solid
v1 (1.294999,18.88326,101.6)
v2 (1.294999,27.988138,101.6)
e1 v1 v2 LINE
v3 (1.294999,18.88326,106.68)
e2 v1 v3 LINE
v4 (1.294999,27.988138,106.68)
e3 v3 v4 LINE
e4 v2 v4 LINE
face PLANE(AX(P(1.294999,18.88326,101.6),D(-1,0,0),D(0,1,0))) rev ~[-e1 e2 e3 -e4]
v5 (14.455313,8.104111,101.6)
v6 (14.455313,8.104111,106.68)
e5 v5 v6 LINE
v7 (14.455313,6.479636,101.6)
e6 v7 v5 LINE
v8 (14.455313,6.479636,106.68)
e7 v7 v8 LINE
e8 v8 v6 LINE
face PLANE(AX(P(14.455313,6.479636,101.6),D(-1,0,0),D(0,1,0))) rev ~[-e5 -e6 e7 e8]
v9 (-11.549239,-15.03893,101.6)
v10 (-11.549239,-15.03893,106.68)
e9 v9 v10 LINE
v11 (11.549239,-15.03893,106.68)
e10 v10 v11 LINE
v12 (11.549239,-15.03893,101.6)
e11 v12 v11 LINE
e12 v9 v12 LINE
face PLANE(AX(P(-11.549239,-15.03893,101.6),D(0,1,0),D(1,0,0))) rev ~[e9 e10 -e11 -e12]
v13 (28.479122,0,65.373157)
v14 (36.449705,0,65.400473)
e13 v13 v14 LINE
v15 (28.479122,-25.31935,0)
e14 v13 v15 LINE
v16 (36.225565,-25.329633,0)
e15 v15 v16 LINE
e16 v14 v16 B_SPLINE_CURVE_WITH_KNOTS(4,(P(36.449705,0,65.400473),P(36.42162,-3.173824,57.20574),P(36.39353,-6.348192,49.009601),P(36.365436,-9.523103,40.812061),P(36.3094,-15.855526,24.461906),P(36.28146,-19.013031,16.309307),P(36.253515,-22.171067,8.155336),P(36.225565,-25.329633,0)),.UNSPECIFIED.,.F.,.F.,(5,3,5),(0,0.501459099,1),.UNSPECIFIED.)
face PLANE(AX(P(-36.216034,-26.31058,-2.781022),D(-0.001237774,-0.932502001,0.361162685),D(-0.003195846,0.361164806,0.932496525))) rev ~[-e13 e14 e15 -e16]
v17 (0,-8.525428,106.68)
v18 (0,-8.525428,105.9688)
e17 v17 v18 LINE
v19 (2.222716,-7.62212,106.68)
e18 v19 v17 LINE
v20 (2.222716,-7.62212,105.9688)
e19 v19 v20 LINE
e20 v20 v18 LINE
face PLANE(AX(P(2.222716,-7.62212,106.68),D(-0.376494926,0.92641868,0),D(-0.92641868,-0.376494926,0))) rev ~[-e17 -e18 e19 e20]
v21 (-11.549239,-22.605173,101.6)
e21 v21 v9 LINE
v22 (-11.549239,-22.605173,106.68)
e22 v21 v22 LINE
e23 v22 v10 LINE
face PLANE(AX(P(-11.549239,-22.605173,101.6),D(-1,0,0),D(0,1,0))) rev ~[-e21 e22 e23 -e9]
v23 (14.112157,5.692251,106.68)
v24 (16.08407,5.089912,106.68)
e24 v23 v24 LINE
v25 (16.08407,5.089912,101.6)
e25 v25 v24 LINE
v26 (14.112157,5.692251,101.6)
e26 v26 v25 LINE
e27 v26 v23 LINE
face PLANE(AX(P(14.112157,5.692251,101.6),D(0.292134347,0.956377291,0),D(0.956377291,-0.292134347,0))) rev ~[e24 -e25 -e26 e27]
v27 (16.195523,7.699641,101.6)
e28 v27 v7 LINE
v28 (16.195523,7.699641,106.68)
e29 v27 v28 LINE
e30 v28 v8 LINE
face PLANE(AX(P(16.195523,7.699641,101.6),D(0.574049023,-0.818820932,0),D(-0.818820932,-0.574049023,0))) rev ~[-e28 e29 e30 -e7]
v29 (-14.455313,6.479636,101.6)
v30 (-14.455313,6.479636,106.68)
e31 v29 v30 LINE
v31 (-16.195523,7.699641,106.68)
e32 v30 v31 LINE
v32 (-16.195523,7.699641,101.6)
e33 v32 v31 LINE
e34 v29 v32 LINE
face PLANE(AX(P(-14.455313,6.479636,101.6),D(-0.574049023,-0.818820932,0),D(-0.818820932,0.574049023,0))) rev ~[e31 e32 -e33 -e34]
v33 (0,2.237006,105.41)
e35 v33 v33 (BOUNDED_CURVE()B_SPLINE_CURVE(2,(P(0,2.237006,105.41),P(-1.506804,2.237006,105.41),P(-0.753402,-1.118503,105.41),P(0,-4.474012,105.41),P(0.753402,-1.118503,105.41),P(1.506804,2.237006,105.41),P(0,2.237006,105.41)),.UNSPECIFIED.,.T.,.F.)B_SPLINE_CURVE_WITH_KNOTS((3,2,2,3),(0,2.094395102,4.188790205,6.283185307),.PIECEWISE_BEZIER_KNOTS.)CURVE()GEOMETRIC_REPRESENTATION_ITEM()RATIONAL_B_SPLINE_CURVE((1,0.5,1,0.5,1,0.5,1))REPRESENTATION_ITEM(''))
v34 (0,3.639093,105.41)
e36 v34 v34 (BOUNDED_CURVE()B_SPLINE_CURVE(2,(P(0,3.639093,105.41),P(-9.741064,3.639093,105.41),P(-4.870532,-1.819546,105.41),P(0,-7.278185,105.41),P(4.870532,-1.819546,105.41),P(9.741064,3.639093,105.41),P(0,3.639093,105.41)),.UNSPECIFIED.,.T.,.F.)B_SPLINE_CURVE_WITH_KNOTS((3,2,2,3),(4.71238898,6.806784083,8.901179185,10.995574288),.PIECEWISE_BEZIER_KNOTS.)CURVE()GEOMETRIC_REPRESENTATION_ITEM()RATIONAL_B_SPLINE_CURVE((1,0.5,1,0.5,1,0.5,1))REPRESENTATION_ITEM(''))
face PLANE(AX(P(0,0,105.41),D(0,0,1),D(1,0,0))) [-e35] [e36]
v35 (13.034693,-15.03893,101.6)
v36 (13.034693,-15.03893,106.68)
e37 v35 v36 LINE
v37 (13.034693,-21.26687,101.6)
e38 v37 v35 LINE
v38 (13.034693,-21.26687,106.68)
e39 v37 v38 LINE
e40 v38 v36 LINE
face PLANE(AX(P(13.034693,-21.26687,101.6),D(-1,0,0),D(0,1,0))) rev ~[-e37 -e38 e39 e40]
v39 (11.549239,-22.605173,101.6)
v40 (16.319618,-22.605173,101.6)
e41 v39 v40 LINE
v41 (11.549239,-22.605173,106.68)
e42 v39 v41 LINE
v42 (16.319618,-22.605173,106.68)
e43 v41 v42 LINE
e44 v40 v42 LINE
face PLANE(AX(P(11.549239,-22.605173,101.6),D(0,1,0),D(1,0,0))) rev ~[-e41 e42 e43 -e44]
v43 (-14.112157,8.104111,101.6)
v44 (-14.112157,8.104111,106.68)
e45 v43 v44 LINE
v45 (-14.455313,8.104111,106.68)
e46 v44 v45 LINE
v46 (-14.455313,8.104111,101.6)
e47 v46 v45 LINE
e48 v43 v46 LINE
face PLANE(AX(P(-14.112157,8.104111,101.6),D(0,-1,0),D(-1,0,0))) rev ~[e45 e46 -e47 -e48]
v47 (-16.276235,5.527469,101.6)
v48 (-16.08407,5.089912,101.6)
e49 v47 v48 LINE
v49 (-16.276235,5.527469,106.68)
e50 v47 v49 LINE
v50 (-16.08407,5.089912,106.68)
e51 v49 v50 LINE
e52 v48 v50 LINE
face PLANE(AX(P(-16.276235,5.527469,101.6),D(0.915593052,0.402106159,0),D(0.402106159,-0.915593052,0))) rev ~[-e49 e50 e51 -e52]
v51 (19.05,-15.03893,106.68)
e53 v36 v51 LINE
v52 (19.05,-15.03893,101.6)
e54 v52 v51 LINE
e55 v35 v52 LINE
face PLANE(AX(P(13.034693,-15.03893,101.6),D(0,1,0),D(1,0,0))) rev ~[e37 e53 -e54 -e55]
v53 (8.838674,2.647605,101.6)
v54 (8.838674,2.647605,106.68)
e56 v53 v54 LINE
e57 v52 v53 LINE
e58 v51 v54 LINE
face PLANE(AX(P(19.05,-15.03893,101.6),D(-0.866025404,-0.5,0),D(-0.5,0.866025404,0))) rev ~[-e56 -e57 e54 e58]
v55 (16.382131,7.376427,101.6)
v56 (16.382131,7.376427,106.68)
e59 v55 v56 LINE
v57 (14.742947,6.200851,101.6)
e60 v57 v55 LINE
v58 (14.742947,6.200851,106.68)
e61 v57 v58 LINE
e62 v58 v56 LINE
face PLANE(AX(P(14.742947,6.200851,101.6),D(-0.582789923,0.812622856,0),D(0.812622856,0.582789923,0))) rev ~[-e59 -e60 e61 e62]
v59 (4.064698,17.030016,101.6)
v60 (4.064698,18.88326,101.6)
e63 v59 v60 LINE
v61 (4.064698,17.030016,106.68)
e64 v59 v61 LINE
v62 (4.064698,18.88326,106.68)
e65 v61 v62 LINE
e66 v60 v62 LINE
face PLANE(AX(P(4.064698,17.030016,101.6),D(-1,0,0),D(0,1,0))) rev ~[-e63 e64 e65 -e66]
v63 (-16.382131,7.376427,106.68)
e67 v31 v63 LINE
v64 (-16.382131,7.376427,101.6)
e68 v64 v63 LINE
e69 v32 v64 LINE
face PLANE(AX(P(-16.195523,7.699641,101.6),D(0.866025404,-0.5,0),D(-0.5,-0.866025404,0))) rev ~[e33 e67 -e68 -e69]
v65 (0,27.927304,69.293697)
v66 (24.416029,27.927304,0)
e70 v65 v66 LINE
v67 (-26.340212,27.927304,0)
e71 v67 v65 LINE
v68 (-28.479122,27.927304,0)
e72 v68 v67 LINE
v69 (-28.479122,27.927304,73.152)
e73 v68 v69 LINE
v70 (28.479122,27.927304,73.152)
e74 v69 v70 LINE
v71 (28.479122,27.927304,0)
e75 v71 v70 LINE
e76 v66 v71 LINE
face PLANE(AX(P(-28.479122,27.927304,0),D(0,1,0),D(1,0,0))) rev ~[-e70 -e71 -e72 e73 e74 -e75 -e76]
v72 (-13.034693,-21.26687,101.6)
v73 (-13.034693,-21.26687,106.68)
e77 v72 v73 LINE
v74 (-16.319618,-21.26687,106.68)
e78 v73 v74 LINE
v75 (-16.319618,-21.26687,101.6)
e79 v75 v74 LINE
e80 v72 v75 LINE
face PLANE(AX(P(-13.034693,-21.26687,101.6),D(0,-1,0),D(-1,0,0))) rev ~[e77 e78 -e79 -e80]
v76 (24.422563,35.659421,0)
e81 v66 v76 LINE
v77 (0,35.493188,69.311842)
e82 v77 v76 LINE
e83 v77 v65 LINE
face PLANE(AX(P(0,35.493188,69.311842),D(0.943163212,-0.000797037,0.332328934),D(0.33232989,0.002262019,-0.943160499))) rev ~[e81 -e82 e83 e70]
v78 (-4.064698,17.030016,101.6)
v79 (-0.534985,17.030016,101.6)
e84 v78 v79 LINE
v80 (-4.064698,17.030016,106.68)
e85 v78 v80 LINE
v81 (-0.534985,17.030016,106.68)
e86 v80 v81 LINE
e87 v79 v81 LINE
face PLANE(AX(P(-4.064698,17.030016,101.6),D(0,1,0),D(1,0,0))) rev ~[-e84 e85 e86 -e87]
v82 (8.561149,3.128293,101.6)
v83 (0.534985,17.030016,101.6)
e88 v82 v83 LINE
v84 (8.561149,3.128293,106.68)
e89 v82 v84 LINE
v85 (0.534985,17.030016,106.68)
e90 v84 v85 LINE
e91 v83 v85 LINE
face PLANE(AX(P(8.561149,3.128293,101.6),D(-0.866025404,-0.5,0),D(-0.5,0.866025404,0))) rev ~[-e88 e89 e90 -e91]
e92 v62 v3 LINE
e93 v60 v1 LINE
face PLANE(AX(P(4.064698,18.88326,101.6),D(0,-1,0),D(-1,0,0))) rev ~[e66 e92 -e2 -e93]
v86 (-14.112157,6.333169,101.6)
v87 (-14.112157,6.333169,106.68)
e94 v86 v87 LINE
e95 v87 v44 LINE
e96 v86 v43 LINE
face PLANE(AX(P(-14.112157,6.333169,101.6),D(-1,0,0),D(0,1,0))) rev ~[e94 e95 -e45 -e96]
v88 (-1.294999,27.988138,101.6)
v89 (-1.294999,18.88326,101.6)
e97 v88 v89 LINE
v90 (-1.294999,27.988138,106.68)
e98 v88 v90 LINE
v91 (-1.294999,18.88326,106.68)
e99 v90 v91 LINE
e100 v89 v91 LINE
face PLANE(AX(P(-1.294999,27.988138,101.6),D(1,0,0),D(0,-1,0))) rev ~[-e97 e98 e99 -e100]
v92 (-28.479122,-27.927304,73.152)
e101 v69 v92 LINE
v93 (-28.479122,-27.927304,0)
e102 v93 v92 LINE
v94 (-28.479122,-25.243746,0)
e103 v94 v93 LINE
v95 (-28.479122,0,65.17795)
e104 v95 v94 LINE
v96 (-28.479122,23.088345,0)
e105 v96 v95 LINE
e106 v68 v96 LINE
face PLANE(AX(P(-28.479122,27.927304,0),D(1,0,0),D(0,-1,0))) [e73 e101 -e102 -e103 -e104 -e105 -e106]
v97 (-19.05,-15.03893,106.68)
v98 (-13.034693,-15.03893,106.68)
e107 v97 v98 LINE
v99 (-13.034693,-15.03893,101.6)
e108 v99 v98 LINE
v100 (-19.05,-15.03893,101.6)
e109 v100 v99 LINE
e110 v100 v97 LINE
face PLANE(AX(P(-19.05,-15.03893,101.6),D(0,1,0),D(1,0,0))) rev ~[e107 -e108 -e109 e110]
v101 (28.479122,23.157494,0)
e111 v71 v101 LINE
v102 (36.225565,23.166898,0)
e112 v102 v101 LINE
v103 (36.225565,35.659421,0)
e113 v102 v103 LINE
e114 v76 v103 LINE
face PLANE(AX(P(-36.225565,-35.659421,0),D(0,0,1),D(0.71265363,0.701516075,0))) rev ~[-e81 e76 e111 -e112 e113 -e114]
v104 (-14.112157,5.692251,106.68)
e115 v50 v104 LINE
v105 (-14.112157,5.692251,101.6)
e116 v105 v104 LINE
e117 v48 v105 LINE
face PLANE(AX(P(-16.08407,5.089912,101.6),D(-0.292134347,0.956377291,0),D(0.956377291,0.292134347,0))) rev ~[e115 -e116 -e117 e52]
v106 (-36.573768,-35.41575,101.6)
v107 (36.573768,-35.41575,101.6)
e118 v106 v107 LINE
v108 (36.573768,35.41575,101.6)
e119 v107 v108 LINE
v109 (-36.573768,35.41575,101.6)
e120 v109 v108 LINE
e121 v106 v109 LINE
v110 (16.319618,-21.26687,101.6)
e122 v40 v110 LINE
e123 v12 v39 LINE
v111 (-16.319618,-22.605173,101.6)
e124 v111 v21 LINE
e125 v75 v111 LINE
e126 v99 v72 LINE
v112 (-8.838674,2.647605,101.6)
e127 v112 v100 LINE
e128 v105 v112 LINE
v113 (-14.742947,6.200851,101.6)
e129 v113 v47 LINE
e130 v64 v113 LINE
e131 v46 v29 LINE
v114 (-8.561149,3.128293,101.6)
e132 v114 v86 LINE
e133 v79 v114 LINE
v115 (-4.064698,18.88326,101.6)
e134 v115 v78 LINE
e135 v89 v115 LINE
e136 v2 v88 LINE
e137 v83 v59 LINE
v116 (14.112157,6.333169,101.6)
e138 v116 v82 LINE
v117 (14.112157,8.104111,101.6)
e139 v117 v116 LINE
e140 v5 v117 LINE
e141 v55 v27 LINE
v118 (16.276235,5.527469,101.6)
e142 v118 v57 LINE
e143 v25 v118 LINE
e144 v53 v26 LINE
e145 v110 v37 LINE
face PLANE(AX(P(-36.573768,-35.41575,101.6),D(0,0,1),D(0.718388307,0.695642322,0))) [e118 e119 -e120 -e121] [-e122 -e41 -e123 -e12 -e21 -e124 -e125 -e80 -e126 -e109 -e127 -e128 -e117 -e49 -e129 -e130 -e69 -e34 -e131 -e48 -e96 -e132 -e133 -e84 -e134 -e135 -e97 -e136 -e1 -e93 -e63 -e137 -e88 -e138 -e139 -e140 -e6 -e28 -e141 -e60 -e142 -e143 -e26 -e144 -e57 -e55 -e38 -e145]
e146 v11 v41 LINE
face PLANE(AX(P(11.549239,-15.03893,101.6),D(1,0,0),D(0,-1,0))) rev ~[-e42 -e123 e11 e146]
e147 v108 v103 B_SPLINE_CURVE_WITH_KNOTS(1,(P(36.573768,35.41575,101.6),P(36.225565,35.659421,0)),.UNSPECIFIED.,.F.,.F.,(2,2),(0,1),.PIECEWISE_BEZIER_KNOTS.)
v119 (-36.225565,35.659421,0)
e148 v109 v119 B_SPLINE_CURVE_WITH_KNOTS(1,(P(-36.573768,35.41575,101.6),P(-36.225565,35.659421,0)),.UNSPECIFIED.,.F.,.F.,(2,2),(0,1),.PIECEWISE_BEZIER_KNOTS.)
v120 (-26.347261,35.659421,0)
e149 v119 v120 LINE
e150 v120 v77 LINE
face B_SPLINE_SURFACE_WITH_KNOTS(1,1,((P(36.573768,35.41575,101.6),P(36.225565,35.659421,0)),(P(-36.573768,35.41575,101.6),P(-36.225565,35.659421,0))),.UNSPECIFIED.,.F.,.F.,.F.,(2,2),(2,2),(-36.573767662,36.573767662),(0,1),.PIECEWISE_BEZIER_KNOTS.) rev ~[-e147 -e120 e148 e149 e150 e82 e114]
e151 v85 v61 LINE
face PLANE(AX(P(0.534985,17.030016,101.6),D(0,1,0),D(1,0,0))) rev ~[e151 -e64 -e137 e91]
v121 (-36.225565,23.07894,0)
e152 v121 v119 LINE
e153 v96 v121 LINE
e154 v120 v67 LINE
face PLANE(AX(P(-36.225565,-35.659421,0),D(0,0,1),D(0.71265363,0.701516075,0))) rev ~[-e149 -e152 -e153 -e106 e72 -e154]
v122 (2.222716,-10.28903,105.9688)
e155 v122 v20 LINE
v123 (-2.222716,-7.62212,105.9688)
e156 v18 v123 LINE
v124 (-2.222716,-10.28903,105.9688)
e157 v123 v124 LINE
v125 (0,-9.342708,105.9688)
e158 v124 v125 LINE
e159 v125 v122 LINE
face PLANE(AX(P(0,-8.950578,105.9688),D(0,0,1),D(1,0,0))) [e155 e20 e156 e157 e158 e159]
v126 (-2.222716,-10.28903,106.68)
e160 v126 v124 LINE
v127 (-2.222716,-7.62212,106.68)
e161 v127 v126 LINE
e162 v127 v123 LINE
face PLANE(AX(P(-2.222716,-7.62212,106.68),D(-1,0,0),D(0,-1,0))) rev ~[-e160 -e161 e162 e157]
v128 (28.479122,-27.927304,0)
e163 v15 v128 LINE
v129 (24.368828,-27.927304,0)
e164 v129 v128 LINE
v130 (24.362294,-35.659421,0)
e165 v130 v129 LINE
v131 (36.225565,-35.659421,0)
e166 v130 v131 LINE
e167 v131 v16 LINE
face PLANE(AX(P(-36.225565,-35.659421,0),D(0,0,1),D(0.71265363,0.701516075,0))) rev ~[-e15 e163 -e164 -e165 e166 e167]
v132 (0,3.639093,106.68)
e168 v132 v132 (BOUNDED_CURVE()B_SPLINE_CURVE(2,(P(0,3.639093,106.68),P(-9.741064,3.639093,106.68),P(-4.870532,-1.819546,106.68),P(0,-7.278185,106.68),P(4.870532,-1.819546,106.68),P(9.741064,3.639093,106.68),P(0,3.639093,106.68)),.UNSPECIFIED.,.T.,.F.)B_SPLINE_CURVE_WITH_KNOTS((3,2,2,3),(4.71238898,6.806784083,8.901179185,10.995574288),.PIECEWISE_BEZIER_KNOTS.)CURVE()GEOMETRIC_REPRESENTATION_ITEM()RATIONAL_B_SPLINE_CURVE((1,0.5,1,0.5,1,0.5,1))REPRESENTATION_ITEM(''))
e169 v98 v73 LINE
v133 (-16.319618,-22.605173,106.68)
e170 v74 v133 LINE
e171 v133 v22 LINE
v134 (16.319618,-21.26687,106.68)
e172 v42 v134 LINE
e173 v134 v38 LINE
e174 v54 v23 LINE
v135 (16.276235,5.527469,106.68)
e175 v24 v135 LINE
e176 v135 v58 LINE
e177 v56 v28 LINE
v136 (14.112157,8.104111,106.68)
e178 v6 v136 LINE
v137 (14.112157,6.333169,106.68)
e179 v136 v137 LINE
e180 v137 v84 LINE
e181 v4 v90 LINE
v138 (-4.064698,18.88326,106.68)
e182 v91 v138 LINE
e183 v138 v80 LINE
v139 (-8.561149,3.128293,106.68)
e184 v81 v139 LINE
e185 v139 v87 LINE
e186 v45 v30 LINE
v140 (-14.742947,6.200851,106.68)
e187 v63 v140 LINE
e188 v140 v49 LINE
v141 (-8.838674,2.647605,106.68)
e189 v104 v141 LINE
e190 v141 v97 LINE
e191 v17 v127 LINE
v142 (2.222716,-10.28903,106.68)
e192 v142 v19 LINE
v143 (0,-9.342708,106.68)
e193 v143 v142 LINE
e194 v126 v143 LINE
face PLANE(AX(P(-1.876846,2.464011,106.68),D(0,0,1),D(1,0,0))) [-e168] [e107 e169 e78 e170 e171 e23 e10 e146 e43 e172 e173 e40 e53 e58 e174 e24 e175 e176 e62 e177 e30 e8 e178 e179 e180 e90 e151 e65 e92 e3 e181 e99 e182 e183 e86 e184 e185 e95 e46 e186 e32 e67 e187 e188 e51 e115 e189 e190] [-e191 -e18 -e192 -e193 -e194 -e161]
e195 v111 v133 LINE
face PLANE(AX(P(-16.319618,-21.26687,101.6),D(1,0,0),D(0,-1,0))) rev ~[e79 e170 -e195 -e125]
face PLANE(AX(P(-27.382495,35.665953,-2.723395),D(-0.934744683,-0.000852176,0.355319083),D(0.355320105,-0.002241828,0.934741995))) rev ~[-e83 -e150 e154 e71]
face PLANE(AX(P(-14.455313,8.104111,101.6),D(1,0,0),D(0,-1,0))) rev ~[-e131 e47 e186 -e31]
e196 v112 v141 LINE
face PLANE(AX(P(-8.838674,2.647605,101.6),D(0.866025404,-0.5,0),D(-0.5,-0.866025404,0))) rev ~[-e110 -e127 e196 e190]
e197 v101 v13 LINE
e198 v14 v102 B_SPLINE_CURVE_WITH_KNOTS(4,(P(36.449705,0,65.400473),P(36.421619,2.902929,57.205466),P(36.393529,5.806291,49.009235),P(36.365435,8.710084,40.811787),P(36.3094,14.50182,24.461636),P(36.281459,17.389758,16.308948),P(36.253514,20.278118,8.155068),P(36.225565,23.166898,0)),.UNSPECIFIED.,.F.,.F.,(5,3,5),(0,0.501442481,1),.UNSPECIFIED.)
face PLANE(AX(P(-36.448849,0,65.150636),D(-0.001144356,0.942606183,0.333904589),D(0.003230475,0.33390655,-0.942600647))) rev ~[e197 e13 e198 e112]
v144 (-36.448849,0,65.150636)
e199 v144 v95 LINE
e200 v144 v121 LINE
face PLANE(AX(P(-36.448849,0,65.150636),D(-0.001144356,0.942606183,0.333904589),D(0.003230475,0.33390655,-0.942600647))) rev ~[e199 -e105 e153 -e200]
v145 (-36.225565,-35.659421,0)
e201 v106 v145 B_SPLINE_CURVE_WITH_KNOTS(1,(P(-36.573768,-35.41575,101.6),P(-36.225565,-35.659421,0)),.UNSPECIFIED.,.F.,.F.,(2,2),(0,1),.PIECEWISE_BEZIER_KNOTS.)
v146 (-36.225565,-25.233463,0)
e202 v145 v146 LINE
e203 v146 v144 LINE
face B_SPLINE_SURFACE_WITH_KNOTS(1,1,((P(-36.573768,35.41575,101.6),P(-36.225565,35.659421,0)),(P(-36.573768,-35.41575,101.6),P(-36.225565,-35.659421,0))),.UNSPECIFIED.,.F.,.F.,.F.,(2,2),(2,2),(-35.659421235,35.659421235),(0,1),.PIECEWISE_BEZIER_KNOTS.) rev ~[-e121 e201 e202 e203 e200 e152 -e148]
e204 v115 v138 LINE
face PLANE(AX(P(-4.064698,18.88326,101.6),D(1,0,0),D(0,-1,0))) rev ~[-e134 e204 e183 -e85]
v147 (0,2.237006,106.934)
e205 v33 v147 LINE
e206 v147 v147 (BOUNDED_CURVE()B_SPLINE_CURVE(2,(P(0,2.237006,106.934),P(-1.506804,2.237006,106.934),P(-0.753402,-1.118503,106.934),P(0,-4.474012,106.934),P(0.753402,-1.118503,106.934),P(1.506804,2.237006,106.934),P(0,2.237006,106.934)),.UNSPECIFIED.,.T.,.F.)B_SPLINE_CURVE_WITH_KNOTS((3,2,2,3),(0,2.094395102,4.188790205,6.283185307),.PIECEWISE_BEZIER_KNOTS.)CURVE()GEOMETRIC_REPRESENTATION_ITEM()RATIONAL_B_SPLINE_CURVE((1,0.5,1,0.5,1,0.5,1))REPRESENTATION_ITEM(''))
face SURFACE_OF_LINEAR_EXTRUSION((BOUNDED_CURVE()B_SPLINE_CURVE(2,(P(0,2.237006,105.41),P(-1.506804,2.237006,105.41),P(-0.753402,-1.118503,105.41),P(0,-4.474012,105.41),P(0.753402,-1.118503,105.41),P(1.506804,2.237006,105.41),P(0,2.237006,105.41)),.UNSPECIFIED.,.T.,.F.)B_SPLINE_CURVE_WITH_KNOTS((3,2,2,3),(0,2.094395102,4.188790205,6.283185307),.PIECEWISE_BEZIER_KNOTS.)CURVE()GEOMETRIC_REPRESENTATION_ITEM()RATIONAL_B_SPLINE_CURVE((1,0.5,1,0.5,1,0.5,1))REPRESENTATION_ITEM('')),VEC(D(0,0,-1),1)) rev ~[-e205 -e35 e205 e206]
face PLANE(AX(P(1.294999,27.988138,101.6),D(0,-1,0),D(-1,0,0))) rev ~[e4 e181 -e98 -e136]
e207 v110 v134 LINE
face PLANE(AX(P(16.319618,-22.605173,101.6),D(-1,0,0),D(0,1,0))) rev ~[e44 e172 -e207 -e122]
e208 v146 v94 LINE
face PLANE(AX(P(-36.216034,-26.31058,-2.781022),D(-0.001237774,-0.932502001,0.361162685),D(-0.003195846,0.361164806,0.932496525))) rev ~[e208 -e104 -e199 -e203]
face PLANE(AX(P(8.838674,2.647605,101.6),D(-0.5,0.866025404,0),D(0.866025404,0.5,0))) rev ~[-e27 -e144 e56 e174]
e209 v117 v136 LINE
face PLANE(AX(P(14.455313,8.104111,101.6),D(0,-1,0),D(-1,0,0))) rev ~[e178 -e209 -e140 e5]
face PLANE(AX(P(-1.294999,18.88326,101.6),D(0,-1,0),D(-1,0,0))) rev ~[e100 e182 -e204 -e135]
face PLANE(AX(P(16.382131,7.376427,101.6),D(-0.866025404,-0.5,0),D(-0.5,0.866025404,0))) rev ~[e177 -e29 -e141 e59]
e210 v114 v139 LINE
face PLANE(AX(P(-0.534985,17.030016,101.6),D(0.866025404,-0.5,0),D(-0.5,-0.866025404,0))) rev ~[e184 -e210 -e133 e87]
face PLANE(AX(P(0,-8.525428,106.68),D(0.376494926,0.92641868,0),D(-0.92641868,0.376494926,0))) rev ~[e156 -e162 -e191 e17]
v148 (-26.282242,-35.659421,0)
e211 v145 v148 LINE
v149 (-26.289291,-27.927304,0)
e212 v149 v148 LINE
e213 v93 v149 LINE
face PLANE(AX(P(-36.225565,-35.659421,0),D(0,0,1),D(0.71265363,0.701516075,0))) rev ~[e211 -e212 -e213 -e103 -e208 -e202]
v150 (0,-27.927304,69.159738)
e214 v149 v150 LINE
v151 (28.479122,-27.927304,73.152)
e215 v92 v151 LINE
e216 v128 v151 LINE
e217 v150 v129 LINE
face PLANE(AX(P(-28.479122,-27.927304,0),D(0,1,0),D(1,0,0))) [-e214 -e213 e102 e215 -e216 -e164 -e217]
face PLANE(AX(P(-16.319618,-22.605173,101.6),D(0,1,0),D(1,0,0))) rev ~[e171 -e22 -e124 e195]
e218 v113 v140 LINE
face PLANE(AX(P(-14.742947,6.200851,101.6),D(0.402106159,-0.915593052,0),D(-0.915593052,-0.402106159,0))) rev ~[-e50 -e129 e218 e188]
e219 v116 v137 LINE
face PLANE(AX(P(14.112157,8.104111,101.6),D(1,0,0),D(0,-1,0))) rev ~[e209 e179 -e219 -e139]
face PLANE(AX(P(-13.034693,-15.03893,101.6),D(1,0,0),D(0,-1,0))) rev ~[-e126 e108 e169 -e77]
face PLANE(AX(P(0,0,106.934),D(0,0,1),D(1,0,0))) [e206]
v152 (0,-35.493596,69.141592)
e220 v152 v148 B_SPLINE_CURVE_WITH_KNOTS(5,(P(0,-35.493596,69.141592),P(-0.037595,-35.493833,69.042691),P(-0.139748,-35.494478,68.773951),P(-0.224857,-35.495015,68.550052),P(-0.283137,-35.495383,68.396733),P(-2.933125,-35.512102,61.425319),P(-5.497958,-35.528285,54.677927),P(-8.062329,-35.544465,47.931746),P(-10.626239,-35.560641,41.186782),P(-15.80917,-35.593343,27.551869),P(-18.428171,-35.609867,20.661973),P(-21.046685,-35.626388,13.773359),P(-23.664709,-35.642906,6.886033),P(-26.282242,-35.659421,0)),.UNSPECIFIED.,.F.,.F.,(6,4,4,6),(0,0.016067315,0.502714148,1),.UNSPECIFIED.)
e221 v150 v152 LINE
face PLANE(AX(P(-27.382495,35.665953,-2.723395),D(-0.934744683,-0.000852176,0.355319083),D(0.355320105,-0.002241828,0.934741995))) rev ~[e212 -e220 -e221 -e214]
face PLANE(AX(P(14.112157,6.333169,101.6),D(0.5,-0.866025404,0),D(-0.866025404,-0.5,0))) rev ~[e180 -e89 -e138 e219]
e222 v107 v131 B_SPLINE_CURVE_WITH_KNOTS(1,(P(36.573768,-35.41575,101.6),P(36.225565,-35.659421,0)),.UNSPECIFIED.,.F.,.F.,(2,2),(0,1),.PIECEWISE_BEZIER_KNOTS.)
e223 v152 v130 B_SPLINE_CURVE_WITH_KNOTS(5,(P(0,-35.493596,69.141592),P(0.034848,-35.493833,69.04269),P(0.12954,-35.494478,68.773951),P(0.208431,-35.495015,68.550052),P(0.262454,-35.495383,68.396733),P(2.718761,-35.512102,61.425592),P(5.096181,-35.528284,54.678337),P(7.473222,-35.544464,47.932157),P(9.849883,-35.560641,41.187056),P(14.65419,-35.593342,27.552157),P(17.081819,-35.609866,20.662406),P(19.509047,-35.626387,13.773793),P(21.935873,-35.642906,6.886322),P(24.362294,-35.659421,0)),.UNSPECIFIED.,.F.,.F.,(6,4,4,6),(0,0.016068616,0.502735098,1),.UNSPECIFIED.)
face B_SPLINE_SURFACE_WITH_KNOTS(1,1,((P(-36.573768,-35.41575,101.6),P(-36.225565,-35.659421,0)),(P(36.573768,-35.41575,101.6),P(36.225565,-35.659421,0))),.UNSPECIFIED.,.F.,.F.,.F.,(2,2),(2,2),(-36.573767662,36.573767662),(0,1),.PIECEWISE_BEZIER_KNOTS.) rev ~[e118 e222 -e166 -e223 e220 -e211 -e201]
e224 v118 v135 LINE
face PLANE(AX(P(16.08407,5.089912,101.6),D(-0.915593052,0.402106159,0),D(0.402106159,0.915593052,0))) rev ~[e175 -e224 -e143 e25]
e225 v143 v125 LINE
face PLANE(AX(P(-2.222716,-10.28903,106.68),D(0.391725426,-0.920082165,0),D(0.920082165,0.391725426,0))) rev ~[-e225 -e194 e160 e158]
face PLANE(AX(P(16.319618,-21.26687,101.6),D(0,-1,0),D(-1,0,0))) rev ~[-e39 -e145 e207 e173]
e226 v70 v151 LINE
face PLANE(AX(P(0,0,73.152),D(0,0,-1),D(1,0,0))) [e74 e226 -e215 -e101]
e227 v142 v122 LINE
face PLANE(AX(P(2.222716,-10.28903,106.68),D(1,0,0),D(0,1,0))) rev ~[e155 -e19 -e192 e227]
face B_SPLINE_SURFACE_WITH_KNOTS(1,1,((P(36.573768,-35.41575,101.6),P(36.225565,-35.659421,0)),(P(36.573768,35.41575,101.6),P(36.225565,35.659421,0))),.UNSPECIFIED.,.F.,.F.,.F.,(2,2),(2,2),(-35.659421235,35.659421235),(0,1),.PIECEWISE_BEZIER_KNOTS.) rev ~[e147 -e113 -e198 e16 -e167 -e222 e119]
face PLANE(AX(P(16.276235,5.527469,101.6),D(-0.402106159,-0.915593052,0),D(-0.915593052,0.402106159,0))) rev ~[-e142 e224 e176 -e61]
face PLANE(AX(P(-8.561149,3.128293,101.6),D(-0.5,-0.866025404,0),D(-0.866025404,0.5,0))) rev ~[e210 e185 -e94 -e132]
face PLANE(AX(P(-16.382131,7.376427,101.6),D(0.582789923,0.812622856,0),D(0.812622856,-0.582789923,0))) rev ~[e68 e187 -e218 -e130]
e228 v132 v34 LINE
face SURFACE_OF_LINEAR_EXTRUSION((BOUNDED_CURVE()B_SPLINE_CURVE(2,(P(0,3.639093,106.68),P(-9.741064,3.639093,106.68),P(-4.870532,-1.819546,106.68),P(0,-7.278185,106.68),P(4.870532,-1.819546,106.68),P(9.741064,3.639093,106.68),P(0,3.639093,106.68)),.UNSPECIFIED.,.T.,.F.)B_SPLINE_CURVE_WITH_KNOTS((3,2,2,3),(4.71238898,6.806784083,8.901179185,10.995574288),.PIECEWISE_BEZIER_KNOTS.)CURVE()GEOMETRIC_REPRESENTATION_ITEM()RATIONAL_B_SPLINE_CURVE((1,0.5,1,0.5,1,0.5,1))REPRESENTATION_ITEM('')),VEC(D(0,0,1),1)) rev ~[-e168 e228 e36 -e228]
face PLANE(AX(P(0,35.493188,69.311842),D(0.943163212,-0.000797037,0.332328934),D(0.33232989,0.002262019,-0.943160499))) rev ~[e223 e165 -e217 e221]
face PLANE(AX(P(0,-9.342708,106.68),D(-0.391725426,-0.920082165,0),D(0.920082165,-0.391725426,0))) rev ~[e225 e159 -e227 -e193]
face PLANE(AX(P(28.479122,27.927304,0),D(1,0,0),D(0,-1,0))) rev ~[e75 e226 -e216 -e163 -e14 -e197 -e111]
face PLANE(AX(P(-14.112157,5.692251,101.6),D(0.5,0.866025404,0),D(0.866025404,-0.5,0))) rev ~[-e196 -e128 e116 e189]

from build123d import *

# Parameters (mm, degrees)
F2_W      = 73.1475353241
F2_H      = 70.8314999938
F0_W      = 72.4511295557
F0_H      = 71.3188424706
F5_W      = 56.9582432508
F5_H      = 55.8546073735
F6_DEPTH  = 73.152
F7_DEPTH  = 95.758
F9_DEPTH  = 86.614
F11_DEPTH = 5.08
F13_DEPTH = 1.27
F15_DEPTH = 1.524
F17_DEPTH = 0.7112


with BuildPart() as f3:
    # F2 (on offset) → F3 section 0
    with BuildSketch(Plane.XY.offset(101.6)):
        Rectangle(F2_W, F2_H)
    # F0 (on Top) → F3 section 1
    with BuildSketch(Plane.XY):
        Rectangle(F0_W, F0_H)
    loft()

    # F5 (on face) → F6 (cut)
    with BuildSketch(Plane(origin=(0, 0, 0), x_dir=(1, 0, 0), z_dir=(0, 0, -1))):
        Rectangle(F5_W, F5_H)
    extrude(amount=-F6_DEPTH, mode=Mode.SUBTRACT)

    # F4 (on face) → F7 (cut)
    with BuildSketch(Plane(origin=(-36.2251392898, 0, -0.1241505707), x_dir=(0, -1, 0), z_dir=(-0.9999941272, 0, -0.0034271736))):
        Polygon((0, 65.275169909), (-24.1607315838, -2.9297065921), (26.3105798513, -2.6568875182), align=None)
    extrude(amount=-F7_DEPTH, mode=Mode.SUBTRACT)

    # F8 (on face) → F9 (cut)
    with BuildSketch(Plane(origin=(0, 35.6592161225, 0.0855228873), x_dir=(-1, 0, 0), z_dir=(0, 0.999997124, 0.0023983321))):
        Polygon((0, 69.2265182734), (-25.3821723163, -2.8089256957), (27.3824948817, -2.8089256957), align=None)
    extrude(amount=-F9_DEPTH, mode=Mode.SUBTRACT)

    # F10 (on face) → F11 (join)
    with BuildSketch(Plane.XY.offset(101.6)):
        Polygon((-4.0646982379, 17.0300158512), (-0.5349854946, 17.0300158512), (-8.561149079, 3.1282927331), (-14.1121569056, 6.333168596), (-14.1121569056, 8.104111068), (-14.455312863, 8.104111068), (-14.455312863, 6.4796363004), (-16.1955226213, 7.6996413991), (-16.3821305686, 7.3764269532), (-14.7429471835, 6.2008514069), (-16.2762347609, 5.5274688639), (-16.0840704319, 5.0899119633), (-14.1121569056, 5.6922513065), (-8.8386744062, 2.6476047659), (-19.05, -15.0389299751), (-13.0346929654, -15.0389299751), (-11.5492390469, -15.0389299751), (11.5492390469, -15.0389299751), (13.0346929654, -15.0389299751), (19.05, -15.0389299751), (8.8386744062, 2.6476047659), (8.561149079, 3.1282927331), (0.5349854946, 17.0300158512), (4.0646982379, 17.0300158512), (4.0646982379, 18.883259967), (1.2949991506, 18.883259967), (1.2949991506, 27.9881376773), (-1.2949991506, 27.9881376773), (-1.2949991506, 18.883259967), (-4.0646982379, 18.883259967), align=None)
        Polygon((14.1121569056, 6.333168596), (8.561149079, 3.1282927331), (8.8386744062, 2.6476047659), (14.1121569056, 5.6922513065), (16.0840704319, 5.0899119633), (16.2762347609, 5.5274688639), (14.7429471835, 6.2008514069), (16.3821305686, 7.3764269532), (16.1955226213, 7.6996413991), (14.455312863, 6.4796363004), (14.455312863, 8.104111068), (14.1121569056, 8.104111068), align=None)
        Polygon((13.0346929654, -21.2668702006), (13.0346929654, -15.0389299751), (11.5492390469, -15.0389299751), (11.5492390469, -22.6051732898), (16.3196176291, -22.6051732898), (16.3196176291, -21.2668702006), align=None)
        Polygon((-11.5492390469, -15.0389299751), (-13.0346929654, -15.0389299751), (-13.0346929654, -21.2668702006), (-16.3196176291, -21.2668702006), (-16.3196176291, -22.6051732898), (-11.5492390469, -22.6051732898), align=None)
    extrude(amount=F11_DEPTH)

    # F12 (on face) → F13 (cut)
    with BuildSketch(Plane.XY.offset(106.68)):
        with BuildLine():
            add(Edge.make_bspline(
                [(0, 3.6390926689), (-9.7410636981, 3.6390926689), (-4.8705318491, -1.8195463344), (0, -7.2781853378), (4.8705318491, -1.8195463344), (9.7410636981, 3.6390926689), (0, 3.6390926689)],
                knots=[4.7123889804, 4.7123889804, 4.7123889804, 6.8067840828, 6.8067840828, 8.9011791852, 8.9011791852, 10.9955742876, 10.9955742876, 10.9955742876], degree=2, weights=[1, 0.5, 1, 0.5, 1, 0.5, 1]))
        make_face()
    extrude(amount=-F13_DEPTH, mode=Mode.SUBTRACT)

    # F14 (on face) → F15 (join)
    with BuildSketch(Plane.XY.offset(105.41)):
        with BuildLine():
            add(Edge.make_bspline(
                [(0, 2.2370060906), (-1.5068039382, 2.2370060906), (-0.7534019691, -1.1185030453), (0, -4.4740121812), (0.7534019691, -1.1185030453), (1.5068039382, 2.2370060906), (0, 2.2370060906)],
                knots=[0, 0, 0, 2.0943951024, 2.0943951024, 4.1887902048, 4.1887902048, 6.2831853072, 6.2831853072, 6.2831853072], degree=2, weights=[1, 0.5, 1, 0.5, 1, 0.5, 1]))
        make_face()
    extrude(amount=F15_DEPTH)

    # F16 (on face) → F17 (cut)
    with BuildSketch(Plane.XY.offset(106.68)):
        Polygon((2.2227161098, -7.6221204363), (0, -8.5254283622), (-2.2227161098, -7.6221204363), (-2.2227161098, -10.2890301496), (0, -9.3427076936), (2.2227161098, -10.2890301496), align=None)
    extrude(amount=-F17_DEPTH, mode=Mode.SUBTRACT)


solid = f3.part
